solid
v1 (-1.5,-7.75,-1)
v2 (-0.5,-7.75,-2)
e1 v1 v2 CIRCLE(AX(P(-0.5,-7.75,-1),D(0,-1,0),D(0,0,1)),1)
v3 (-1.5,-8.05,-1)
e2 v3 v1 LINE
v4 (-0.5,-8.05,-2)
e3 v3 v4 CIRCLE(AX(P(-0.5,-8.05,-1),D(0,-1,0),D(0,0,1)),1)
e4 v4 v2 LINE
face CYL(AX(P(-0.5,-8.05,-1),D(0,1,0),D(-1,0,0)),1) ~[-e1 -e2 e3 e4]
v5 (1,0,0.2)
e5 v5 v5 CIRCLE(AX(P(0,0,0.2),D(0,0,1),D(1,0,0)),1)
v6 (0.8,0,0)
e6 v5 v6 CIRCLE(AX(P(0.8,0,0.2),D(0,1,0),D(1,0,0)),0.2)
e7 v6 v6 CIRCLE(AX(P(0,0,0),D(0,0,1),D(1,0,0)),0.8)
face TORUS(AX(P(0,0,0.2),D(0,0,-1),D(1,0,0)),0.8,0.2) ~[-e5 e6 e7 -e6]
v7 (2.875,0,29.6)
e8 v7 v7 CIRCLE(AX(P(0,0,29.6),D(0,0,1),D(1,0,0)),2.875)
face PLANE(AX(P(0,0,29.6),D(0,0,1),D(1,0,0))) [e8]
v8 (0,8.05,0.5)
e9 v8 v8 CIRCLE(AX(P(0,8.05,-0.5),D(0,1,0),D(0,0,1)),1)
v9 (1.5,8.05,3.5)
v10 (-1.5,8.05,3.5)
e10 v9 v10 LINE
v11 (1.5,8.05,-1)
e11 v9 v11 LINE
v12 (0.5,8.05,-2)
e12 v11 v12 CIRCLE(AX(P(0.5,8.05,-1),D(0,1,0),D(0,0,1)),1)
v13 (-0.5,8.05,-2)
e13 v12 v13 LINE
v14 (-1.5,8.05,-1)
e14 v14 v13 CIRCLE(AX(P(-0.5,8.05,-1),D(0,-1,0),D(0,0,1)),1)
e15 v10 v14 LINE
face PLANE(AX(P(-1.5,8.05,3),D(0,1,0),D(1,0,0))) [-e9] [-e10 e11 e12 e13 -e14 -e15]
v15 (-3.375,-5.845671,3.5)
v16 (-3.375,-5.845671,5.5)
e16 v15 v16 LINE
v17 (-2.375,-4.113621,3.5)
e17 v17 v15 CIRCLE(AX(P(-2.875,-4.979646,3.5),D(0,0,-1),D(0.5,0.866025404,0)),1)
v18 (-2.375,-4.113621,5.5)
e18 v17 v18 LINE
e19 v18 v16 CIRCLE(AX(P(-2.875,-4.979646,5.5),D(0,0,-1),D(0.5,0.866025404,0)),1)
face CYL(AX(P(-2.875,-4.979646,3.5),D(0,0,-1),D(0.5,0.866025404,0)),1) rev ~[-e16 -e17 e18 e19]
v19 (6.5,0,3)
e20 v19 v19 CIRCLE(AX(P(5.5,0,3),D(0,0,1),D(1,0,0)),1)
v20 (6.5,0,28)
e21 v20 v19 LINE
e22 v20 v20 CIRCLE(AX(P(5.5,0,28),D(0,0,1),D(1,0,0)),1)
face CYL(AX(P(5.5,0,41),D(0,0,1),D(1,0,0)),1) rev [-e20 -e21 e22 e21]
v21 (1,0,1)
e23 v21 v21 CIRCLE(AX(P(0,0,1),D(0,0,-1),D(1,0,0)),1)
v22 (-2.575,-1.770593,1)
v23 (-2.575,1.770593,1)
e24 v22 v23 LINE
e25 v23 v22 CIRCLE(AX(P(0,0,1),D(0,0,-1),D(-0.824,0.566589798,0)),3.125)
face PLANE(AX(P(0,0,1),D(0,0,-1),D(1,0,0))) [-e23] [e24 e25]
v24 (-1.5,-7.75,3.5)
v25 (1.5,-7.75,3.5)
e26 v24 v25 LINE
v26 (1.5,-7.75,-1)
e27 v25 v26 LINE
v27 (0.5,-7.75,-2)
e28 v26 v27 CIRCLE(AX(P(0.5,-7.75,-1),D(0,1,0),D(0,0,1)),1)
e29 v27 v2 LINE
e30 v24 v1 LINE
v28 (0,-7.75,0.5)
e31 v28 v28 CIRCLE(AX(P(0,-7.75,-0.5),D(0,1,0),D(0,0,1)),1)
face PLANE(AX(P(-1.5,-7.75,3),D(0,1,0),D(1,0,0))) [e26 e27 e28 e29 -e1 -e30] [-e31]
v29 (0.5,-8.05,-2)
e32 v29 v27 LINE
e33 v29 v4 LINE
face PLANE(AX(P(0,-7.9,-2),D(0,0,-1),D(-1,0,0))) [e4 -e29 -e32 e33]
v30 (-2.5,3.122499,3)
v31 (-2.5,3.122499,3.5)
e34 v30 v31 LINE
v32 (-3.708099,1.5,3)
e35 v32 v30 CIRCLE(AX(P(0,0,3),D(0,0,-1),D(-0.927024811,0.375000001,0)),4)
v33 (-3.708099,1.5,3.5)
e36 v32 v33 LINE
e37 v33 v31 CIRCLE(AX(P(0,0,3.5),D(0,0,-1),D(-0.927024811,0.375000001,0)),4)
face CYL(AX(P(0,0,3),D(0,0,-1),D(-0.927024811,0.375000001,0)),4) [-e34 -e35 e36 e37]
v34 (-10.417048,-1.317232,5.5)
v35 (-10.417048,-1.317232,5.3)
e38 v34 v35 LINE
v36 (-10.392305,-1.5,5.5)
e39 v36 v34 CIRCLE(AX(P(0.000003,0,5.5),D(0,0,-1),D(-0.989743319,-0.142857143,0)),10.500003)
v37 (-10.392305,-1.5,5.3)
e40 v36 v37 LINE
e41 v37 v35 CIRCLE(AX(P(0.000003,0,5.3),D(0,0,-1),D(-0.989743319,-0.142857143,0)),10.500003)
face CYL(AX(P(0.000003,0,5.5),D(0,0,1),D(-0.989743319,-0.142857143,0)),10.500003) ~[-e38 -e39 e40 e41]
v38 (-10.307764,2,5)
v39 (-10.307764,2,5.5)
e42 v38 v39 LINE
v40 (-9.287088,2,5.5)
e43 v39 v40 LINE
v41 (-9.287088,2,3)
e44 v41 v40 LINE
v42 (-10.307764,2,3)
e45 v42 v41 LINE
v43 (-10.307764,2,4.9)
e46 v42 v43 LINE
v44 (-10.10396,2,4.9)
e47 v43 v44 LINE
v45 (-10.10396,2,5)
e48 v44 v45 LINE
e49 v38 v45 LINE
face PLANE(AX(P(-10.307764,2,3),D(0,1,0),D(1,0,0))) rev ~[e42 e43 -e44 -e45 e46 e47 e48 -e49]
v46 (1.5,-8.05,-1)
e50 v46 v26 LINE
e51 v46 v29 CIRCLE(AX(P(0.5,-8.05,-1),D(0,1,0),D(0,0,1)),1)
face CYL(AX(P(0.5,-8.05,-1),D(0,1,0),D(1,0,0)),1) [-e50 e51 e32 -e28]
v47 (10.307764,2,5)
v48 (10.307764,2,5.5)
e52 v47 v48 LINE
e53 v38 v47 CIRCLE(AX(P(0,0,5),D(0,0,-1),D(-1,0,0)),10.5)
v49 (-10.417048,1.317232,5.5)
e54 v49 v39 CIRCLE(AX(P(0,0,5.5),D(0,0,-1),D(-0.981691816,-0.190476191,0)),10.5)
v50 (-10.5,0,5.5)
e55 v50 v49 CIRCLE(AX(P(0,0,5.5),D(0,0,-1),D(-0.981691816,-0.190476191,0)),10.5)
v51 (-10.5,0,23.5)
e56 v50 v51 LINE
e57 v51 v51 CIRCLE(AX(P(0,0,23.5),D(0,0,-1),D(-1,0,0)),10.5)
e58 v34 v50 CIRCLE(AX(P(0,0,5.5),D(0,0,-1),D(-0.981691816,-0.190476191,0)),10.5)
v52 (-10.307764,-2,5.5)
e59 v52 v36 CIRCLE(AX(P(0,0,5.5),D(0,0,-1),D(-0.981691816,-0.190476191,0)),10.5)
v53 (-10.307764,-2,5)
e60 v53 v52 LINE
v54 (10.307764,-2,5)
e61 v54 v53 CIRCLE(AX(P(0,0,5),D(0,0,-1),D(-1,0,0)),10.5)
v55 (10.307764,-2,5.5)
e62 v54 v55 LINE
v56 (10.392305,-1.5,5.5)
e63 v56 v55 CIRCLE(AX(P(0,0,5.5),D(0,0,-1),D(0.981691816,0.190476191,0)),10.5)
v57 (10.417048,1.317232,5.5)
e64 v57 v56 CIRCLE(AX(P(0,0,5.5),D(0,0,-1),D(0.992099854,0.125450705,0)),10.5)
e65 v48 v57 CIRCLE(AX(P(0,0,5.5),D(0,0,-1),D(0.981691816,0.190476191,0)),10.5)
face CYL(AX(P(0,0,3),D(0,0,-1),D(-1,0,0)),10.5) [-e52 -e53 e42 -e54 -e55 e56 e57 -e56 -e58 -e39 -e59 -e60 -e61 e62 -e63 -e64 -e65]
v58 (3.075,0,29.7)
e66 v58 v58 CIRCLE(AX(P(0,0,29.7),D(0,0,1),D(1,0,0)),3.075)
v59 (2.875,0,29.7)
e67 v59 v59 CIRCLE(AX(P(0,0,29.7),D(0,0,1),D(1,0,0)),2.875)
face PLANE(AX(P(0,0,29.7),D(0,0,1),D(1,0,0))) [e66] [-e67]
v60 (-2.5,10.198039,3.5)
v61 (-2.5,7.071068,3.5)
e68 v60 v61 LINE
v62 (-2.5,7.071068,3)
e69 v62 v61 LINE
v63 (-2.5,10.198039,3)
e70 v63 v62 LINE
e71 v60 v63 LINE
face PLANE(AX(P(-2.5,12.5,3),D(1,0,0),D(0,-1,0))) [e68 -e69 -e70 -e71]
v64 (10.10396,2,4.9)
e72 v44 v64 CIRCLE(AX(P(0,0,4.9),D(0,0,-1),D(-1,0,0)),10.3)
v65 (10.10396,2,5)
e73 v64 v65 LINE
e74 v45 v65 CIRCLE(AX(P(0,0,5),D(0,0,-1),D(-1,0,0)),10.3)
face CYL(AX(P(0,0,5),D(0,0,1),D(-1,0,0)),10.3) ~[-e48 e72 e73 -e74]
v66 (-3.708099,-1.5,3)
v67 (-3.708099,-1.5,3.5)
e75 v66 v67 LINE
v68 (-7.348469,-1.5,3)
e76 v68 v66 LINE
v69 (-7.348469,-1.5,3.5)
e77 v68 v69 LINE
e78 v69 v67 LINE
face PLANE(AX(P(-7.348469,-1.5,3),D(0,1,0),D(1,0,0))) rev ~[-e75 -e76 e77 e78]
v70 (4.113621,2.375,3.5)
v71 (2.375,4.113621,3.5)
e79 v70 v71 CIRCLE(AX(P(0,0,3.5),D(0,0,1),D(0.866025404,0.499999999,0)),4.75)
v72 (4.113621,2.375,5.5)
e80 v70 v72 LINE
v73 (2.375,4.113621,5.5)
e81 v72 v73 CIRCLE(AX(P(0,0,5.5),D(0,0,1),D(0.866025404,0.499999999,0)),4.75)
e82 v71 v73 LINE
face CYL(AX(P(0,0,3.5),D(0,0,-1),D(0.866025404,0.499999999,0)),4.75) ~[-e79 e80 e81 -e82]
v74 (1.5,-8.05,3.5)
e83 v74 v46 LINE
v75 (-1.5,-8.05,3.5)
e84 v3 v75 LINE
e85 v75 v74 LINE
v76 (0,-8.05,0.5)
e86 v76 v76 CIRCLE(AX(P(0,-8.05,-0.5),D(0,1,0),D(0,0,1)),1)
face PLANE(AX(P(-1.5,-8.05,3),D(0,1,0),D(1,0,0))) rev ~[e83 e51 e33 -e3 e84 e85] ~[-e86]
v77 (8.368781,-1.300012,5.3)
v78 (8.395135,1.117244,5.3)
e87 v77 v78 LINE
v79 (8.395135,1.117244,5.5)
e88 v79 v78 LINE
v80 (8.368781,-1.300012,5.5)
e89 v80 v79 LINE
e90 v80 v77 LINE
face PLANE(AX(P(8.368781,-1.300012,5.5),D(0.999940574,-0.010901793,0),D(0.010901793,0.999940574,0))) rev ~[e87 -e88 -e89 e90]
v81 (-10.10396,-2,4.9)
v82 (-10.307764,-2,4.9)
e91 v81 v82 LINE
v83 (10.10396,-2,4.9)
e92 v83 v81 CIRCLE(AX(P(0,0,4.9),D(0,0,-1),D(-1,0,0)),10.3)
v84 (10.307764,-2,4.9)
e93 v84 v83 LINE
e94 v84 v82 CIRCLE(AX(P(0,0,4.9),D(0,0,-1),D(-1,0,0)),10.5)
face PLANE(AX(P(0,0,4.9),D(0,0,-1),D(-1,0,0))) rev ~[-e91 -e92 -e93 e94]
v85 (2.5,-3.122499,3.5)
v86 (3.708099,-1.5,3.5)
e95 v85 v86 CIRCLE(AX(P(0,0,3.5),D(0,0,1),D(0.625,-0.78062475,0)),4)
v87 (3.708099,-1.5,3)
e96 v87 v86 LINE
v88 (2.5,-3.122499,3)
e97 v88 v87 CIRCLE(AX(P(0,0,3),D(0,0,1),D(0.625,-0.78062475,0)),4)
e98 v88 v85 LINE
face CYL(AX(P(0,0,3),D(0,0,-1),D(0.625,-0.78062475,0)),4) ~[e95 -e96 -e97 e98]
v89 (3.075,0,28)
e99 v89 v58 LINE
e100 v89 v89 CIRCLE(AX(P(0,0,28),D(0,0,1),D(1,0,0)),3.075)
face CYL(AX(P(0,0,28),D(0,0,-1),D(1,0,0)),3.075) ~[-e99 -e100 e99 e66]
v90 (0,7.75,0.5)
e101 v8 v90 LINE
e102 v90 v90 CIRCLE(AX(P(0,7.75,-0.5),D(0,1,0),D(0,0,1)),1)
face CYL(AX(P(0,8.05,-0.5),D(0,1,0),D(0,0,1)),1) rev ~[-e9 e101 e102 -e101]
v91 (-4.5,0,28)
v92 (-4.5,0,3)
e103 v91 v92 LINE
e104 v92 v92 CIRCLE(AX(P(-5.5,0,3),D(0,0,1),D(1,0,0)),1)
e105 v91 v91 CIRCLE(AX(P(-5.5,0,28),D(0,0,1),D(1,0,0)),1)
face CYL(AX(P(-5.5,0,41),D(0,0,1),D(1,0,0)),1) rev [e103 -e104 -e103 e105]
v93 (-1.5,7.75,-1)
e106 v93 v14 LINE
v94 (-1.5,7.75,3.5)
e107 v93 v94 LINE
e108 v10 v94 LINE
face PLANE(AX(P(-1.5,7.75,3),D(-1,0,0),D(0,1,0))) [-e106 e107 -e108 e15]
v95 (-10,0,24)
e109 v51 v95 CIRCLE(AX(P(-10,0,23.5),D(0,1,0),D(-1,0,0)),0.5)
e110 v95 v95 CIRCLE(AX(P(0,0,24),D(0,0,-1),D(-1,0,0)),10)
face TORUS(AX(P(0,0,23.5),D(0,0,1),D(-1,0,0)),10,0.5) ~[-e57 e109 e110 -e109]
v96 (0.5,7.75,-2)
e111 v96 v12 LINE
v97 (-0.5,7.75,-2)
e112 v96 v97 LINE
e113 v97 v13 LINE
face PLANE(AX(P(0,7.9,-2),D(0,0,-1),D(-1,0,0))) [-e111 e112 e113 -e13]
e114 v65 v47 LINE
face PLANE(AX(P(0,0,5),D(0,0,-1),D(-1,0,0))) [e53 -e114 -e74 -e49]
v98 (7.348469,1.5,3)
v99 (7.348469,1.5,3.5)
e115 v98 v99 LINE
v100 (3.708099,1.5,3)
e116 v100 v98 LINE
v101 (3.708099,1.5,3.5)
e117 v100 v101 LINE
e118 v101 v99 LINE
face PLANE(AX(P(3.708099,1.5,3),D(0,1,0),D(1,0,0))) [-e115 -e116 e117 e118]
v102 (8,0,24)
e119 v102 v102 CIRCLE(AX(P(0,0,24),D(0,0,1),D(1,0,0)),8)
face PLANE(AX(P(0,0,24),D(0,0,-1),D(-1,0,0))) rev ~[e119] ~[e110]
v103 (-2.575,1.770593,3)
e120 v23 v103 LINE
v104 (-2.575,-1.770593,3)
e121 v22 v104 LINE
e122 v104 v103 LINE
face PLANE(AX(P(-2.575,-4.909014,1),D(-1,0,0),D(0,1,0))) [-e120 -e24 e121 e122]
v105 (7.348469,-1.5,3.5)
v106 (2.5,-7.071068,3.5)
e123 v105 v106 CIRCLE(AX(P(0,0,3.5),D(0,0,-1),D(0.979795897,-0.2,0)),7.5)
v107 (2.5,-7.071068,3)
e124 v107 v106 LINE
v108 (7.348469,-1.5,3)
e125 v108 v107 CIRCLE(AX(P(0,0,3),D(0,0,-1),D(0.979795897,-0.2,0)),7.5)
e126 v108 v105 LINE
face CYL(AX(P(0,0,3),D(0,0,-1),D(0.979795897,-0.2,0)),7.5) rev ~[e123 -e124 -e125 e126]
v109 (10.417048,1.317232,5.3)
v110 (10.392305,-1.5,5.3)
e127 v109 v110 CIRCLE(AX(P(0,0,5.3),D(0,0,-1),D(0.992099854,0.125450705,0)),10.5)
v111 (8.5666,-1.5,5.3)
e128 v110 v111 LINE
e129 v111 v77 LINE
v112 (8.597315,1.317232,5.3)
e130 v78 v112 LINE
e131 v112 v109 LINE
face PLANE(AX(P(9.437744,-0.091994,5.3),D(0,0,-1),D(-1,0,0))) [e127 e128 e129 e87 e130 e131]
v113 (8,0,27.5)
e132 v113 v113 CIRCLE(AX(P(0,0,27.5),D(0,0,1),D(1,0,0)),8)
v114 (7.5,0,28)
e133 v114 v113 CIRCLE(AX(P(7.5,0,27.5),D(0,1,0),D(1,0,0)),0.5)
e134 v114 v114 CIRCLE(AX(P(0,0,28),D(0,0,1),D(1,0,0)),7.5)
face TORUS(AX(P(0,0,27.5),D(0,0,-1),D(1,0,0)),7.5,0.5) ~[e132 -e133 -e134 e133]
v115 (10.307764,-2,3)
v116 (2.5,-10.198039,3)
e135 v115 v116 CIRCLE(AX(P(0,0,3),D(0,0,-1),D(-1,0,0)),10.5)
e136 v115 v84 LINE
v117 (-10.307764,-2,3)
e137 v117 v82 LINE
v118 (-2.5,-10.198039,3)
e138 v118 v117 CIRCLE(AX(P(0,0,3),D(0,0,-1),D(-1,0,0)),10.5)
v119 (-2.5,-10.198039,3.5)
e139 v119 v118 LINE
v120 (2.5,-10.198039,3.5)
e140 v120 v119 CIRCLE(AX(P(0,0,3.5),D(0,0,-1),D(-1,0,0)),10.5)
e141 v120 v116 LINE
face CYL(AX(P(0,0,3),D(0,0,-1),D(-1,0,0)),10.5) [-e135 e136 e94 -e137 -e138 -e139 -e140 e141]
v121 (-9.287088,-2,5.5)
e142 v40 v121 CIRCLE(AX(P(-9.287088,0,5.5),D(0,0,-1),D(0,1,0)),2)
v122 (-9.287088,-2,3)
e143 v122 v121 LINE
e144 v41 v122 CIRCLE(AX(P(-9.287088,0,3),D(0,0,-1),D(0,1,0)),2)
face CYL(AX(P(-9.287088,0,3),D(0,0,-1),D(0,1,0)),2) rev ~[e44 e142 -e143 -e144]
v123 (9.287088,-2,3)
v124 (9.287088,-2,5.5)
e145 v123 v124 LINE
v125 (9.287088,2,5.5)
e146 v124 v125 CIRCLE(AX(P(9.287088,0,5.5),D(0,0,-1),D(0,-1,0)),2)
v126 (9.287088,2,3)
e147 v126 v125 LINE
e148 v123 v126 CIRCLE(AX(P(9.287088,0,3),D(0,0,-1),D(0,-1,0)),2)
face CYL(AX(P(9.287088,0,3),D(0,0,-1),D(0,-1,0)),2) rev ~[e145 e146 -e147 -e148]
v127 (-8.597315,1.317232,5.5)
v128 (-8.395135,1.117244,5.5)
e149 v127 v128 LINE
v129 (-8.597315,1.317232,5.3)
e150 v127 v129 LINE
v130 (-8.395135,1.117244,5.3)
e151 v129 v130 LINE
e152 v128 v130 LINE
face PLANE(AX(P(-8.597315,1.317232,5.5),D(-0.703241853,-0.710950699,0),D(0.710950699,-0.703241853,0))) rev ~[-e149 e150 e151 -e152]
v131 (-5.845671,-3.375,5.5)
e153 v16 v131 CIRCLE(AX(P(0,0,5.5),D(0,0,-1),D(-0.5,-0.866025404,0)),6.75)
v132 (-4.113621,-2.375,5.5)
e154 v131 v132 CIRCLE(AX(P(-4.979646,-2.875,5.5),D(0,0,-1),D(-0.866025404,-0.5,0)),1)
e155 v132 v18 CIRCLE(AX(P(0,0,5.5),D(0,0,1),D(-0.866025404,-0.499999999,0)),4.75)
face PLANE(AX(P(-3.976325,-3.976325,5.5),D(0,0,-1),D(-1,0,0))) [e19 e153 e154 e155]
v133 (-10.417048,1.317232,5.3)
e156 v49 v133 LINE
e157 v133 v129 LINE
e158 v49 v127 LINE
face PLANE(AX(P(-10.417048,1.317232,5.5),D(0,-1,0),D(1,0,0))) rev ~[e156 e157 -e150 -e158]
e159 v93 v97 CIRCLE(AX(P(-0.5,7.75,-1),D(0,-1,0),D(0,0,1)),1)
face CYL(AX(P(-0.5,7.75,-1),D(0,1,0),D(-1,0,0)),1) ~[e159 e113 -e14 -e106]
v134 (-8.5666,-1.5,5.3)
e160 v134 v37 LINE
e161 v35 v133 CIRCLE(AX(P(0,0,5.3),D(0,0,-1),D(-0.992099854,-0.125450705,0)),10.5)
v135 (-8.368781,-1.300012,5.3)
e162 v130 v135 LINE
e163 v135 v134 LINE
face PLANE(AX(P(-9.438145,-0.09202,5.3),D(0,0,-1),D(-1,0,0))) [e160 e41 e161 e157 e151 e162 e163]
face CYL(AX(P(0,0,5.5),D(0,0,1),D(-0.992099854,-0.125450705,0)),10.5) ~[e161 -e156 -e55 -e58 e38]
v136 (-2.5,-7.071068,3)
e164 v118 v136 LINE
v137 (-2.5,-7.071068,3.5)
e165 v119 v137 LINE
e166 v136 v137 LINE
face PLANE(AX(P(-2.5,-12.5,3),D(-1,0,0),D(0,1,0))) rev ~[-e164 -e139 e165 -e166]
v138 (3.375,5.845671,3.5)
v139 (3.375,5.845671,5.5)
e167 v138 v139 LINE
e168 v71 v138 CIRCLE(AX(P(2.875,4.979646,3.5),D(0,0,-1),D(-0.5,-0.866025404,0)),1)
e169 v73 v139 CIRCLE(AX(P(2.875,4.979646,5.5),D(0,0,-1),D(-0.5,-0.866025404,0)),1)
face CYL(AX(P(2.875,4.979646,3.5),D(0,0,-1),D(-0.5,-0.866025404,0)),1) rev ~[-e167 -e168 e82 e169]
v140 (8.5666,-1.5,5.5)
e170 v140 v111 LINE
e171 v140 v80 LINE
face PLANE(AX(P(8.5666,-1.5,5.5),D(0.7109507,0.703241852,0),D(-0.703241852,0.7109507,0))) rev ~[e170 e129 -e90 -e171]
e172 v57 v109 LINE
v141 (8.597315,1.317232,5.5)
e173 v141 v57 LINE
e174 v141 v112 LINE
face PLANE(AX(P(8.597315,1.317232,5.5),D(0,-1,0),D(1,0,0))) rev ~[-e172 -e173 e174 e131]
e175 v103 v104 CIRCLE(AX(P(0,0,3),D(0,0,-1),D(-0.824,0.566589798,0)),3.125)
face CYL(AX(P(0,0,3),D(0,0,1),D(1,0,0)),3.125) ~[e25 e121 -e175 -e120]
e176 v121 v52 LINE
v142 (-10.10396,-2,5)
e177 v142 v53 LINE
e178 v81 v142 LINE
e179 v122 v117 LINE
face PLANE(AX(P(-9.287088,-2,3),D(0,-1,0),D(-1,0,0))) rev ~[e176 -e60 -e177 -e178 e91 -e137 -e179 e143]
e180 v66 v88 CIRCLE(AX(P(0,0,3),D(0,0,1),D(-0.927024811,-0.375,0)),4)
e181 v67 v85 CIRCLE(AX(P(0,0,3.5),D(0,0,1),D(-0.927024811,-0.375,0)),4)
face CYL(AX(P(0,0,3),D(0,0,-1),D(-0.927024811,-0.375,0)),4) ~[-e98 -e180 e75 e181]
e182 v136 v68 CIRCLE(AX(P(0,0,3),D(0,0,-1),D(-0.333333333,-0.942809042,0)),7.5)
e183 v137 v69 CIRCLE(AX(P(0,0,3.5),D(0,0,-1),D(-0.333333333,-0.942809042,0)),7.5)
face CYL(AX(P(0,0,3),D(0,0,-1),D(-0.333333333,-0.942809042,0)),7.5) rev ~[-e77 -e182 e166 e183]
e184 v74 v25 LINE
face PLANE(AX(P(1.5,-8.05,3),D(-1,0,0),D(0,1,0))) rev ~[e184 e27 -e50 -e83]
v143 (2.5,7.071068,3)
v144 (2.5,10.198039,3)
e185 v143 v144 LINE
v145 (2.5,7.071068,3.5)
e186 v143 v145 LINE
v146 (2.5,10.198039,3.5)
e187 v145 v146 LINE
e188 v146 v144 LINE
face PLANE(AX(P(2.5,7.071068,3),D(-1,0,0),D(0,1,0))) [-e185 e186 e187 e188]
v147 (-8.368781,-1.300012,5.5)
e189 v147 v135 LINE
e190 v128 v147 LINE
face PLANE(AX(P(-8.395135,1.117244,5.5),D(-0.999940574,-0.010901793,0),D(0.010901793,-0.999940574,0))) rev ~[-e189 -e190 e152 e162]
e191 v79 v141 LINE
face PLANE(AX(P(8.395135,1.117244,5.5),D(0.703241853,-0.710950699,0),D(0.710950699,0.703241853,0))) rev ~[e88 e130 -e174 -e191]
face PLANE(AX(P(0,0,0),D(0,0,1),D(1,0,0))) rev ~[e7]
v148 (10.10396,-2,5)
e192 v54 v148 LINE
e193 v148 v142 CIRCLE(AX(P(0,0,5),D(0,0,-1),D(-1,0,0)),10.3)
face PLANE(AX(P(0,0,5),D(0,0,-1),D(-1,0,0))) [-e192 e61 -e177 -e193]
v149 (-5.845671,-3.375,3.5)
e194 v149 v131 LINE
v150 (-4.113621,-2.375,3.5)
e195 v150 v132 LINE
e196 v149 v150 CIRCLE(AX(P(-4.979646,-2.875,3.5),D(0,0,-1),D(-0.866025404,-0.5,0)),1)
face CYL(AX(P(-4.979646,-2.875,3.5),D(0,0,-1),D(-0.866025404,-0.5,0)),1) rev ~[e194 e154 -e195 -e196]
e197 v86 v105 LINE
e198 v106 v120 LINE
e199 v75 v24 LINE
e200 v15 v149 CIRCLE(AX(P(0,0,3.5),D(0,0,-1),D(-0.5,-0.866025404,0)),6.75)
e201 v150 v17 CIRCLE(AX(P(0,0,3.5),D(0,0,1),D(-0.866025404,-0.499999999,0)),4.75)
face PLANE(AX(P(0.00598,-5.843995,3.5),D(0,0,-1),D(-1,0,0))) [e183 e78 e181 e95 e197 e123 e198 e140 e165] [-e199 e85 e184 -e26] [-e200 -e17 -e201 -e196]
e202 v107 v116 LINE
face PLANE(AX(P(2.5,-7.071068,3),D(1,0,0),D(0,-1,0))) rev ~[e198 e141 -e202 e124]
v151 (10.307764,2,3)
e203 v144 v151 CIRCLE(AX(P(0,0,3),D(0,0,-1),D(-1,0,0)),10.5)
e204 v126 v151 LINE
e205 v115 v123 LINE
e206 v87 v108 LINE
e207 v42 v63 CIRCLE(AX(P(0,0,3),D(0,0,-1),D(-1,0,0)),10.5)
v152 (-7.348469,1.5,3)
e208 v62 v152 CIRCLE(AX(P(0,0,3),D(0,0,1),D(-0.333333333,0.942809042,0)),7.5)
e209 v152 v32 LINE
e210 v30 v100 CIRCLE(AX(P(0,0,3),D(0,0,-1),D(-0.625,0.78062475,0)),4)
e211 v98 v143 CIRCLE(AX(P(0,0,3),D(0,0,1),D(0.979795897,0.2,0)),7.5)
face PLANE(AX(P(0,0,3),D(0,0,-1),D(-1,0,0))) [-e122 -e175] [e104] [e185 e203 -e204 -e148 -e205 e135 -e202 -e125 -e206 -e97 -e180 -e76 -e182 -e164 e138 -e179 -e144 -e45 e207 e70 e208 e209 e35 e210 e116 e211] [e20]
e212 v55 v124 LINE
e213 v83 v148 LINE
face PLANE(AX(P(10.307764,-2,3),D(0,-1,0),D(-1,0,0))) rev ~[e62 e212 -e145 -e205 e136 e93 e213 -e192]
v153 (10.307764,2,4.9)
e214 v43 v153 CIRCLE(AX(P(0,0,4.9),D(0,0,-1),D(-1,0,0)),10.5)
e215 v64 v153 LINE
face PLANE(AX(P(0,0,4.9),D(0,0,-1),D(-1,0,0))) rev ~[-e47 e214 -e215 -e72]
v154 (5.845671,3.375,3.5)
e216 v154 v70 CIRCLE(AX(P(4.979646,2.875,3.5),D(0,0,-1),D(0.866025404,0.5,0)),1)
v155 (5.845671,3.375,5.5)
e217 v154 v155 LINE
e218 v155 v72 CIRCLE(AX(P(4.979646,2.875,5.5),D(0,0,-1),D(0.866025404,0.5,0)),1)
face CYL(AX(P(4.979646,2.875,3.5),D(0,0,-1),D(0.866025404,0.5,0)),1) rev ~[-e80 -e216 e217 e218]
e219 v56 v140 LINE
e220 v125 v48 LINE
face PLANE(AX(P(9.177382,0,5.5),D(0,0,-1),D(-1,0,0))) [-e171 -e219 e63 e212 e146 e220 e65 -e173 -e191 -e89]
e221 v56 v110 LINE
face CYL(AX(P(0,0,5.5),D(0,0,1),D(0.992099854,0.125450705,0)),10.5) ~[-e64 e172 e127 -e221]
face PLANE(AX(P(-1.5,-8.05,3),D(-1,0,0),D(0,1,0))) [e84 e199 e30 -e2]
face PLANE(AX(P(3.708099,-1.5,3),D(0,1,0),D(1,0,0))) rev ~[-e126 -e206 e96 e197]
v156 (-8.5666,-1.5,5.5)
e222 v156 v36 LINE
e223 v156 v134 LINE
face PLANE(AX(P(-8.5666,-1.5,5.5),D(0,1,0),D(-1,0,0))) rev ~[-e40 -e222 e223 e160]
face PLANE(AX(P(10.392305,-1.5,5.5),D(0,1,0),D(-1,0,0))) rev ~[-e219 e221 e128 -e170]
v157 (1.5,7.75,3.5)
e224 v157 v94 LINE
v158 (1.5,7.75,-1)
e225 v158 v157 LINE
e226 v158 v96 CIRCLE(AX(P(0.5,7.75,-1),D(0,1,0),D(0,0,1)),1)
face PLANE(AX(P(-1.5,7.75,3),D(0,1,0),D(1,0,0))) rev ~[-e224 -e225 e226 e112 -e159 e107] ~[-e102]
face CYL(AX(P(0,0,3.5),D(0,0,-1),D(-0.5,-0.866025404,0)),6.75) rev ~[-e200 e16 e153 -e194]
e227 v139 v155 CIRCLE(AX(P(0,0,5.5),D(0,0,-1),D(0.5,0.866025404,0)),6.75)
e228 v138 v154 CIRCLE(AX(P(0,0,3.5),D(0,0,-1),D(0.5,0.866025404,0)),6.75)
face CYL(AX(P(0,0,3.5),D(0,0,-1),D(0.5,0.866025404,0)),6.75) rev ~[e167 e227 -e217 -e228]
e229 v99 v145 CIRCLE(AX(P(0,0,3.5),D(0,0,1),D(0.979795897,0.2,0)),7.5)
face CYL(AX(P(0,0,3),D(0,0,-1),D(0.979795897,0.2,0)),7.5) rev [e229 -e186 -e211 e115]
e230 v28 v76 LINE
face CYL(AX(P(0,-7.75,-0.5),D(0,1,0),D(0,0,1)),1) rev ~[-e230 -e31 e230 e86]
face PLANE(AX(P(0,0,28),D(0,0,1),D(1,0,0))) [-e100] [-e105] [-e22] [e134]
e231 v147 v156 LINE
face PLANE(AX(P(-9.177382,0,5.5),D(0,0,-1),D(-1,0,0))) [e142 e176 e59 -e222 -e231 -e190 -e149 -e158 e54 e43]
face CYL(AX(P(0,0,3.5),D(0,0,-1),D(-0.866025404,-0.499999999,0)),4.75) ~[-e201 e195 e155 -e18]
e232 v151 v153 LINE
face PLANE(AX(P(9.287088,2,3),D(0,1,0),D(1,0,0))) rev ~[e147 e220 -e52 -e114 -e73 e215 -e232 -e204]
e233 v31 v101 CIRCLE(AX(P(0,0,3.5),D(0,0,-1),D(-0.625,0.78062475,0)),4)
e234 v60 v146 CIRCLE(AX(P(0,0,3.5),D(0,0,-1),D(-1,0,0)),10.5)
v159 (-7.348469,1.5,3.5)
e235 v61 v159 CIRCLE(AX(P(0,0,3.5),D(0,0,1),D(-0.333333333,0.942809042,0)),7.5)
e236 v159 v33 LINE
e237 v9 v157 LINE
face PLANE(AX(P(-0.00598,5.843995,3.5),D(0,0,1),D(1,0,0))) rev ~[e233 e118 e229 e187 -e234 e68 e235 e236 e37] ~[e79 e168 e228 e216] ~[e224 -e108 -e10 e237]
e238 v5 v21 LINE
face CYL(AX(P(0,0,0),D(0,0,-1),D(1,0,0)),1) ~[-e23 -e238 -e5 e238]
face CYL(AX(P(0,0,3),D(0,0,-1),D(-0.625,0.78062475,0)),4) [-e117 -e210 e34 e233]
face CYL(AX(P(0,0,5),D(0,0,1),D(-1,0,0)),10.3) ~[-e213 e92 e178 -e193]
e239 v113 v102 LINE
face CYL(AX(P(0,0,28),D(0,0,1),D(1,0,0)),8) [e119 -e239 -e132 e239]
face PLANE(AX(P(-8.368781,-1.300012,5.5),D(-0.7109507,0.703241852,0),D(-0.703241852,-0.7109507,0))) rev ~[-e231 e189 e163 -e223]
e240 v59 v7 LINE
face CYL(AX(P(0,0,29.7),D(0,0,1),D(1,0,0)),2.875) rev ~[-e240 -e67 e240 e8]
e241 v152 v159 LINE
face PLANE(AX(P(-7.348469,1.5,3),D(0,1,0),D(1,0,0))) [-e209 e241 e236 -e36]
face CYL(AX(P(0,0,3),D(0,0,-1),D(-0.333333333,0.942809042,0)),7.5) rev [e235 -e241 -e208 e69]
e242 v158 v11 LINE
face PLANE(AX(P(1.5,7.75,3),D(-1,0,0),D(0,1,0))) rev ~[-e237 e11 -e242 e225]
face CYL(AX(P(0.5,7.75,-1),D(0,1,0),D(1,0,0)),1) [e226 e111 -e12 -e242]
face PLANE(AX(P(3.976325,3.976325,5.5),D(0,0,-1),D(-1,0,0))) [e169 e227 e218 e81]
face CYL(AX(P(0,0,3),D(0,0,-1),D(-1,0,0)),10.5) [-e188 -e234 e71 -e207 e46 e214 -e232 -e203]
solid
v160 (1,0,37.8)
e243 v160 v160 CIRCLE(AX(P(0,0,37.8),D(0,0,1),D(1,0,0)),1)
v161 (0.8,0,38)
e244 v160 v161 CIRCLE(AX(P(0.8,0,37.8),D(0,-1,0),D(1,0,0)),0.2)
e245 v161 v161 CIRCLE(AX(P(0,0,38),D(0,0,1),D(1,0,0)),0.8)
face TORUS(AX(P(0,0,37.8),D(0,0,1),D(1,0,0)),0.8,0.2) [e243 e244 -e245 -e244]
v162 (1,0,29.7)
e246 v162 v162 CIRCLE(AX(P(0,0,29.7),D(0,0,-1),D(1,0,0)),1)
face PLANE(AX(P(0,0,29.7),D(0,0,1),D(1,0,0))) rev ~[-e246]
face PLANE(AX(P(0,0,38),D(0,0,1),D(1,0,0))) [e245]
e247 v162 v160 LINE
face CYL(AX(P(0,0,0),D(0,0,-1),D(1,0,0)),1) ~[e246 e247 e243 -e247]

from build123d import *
from build123d.topology import SkipClean

# Parameters (mm, degrees)
ESBO_O1_R                  = 1
RESSALTO_EXTRUS_O1_DEPTH   = 38
ESBO_O2_R                  = 8
RESSALTO_EXTRUS_O2_DEPTH   = 25
ESBO_O3_R                  = 3.075
RESSALTO_EXTRUS_O3_DEPTH   = 1.7
ESBO_O4_R                  = 10.5
RESSALTO_EXTRUS_O4_DEPTH   = 21
ESBO_O5_R                  = 3.125
RESSALTO_EXTRUS_O5_DEPTH   = 2
ESBO_O6_W                  = 3
ESBO_O6_H                  = 0.3
RESSALTO_EXTRUS_O6_DEPTH   = 5
ESBO_O7_R                  = 1
CORTE_EXTRUS_O1_DEPTH      = 4
ESBO_O8_R                  = 1
CORTE_EXTRUS_O2_DEPTH      = 4
FILETE1_R                  = 1
FILETE2_R                  = 0.2
CORTE_EXTRUS_O3_DEPTH      = 15
CORTE_EXTRUS_O3_DEPTH_BACK = 38
ESBO_O9_R                  = 1
ESBO_O10_W                 = 1.239132447
ESBO_O10_H                 = 9.327126009
CORTE_EXTRUS_O4_DEPTH      = 2
CORTE_EXTRUS_O5_DEPTH      = 0.5
CORTE_EXTRUS_O6_DEPTH      = 2
ESBO_O13_W                 = 3
ESBO_O13_H                 = 0.3
RESSALTO_EXTRUS_O7_DEPTH   = 6
ESBO_O14_R                 = 11.30933102
ESBO_O14_R_2               = 10.3
CORTE_EXTRUS_O7_DEPTH      = 0.1
FILETE3_R                  = 0.5
ESBO_O15_R                 = 2.875
CORTE_EXTRUS_O8_DEPTH      = 0.1
CORTE_EXTRUS_O9_DEPTH      = 2.5
RESSALTO_EXTRUS_O8_DEPTH   = 0.2


with BuildPart() as part:
    # Esboço1 → Ressalto-extrusão1 (new body)
    with BuildSketch(Plane.XY):
        Circle(ESBO_O1_R)
    extrude(amount=RESSALTO_EXTRUS_O1_DEPTH)

    # Esboço2 → Ressalto-extrusão2 (add)
    with BuildSketch(Plane.XY.offset(28)):
        Circle(ESBO_O2_R)
    extrude(amount=-RESSALTO_EXTRUS_O2_DEPTH)

    # Esboço3 → Ressalto-extrusão3 (add)
    with BuildSketch(Plane.XY.offset(28)):
        Circle(ESBO_O3_R)
    extrude(amount=RESSALTO_EXTRUS_O3_DEPTH)

    # Esboço4 → Ressalto-extrusão4 (add)
    with BuildSketch(Plane(origin=(0, 0, 3), x_dir=(-1, 0, 0), z_dir=(0, 0, -1))):
        Circle(ESBO_O4_R)
    extrude(amount=-RESSALTO_EXTRUS_O4_DEPTH)

    # Esboço5 → Ressalto-extrusão5 (add)
    with BuildSketch(Plane(origin=(0, 0, 3), x_dir=(-1, 0, 0), z_dir=(0, 0, -1))):
        with Locations(Location((0, 0, 0), (0, 0, 180))):
            Circle(ESBO_O5_R)
    extrude(amount=RESSALTO_EXTRUS_O5_DEPTH)

    # Esboço6 → Ressalto-extrusão6 (add)
    with BuildSketch(Plane(origin=(0, 0, 3), x_dir=(-1, 0, 0), z_dir=(0, 0, -1))):
        with Locations((0, 7.9)):
            Rectangle(ESBO_O6_W, ESBO_O6_H)
        with Locations((0, -7.9)):
            Rectangle(ESBO_O6_W, ESBO_O6_H)
    extrude(amount=RESSALTO_EXTRUS_O6_DEPTH)

    # Esboço7 → Corte-extrusão1 (cut)
    with BuildSketch(Plane(origin=(0, 8.05, 0), x_dir=(1, 0, 0), z_dir=(0, 1, 0))):
        with Locations(Location((0, 0.5, 0), (0, 0, 270))):
            Circle(ESBO_O7_R)
    extrude(amount=-CORTE_EXTRUS_O1_DEPTH, mode=Mode.SUBTRACT)

    # Esboço8 → Corte-extrusão2 (cut)
    with BuildSketch(Plane(origin=(0, -7.75, 0), x_dir=(1, 0, 0), z_dir=(0, 1, 0))):
        with Locations(Location((0, 0.5, 0), (0, 0, 270))):
            Circle(ESBO_O8_R)
    extrude(amount=-CORTE_EXTRUS_O2_DEPTH, mode=Mode.SUBTRACT)

    # Filete1
    filete1_edges = [part.edges().sort_by_distance(p)[0] for p in [
        (1.5, 7.9, -2),
        (-1.5, 7.9, -2),
        (1.5, -7.9, -2),
        (-1.5, -7.9, -2),
    ]]
    fillet(filete1_edges, radius=FILETE1_R)

    # Filete2
    filete2_edges = [part.edges().sort_by_distance(p)[0] for p in [
        (-1, 0, 0),
        (-1, 0, 38),
    ]]
    fillet(filete2_edges, radius=FILETE2_R)

    # Esboço9 → Corte-extrusão3 (cut, two sides: drawn at the far end of the back side and taken through both)
    with BuildSketch(Plane(origin=(0, 0, 3), x_dir=(-1, 0, 0), z_dir=(0, 0, -1)).offset(-CORTE_EXTRUS_O3_DEPTH_BACK)):
        with Locations(Location((-5.5, 0, 0), (0, 0, 180))):
            Circle(ESBO_O9_R)
        with Locations(Location((5.5, 0, 0), (0, 0, 180))):
            Circle(ESBO_O9_R)
    extrude(amount=CORTE_EXTRUS_O3_DEPTH + CORTE_EXTRUS_O3_DEPTH_BACK, mode=Mode.SUBTRACT)

    # Esboço10 → Corte-extrusão4 (cut)
    with BuildSketch(Plane(origin=(0, 0, 1), x_dir=(-1, 0, 0), z_dir=(0, 0, -1))):
        with Locations((3.194566224, -0.245450684)):
            Rectangle(ESBO_O10_W, ESBO_O10_H)
    extrude(amount=-CORTE_EXTRUS_O4_DEPTH, mode=Mode.SUBTRACT)

    # Esboço11 → Corte-extrusão5 (cut)
    with BuildSketch(Plane(origin=(0, 0, 3), x_dir=(-1, 0, 0), z_dir=(0, 0, -1))):
        with BuildLine():
            Line((-3.708099244, 1.5), (-7.348469228, 1.5))
            ThreePointArc((-7.348469228, 1.5), (-5.657498182, 4.923689097), (-2.5, 7.071067812))
            Line((-2.5, 7.071067812), (-2.5, 12.5))
            Line((-2.5, 12.5), (2.5, 12.5))
            Line((2.5, 12.5), (2.5, 7.071067812))
            ThreePointArc((2.5, 7.071067812), (5.657498182, 4.923689097), (7.348469228, 1.5))
            Line((7.348469228, 1.5), (3.708099244, 1.5))
            ThreePointArc((3.708099244, 1.5), (3.208309493, 2.388880532), (2.5, 3.122498999))
            ThreePointArc((2.5, 3.122498999), (-1.011435463, 3.870012701), (-3.708099244, 1.5))
        make_face()
        with BuildLine():
            Line((7.348469228, -1.5), (3.708099244, -1.5))
            ThreePointArc((3.708099244, -1.5), (1.011435463, -3.870012701), (-2.5, -3.122498999))
            ThreePointArc((-2.5, -3.122498999), (-3.208309493, -2.388880532), (-3.708099244, -1.5))
            Line((-3.708099244, -1.5), (-7.348469228, -1.5))
            ThreePointArc((-7.348469228, -1.5), (-5.657498182, -4.923689097), (-2.5, -7.071067812))
            Line((-2.5, -7.071067812), (-2.5, -12.5))
            Line((-2.5, -12.5), (2.5, -12.5))
            Line((2.5, -12.5), (2.5, -7.071067812))
            ThreePointArc((2.5, -7.071067812), (5.657498182, -4.923689097), (7.348469228, -1.5))
        make_face()
    extrude(amount=-CORTE_EXTRUS_O5_DEPTH, mode=Mode.SUBTRACT)


with BuildPart() as corte_extrus_o5_piece_1:
    # of the separate pieces the step leaves, piece 1, a body of its own (corte_extrus_o5_pieces)
    add(part.part.solids().sort_by_distance((1, 0, 0.2))[0])

    # Esboço12 → Corte-extrusão6 (cut)
    with BuildSketch(Plane(origin=(0, 0, 3.5), x_dir=(-1, 0, 0), z_dir=(0, 0, -1))):
        with BuildLine():
            ThreePointArc((3.375, -5.845671476), (4.772970773, -4.772970773), (5.845671476, -3.375))
            ThreePointArc((5.845671476, -3.375), (5.479646072, -2.008974596), (4.113620668, -2.375))
            ThreePointArc((4.113620668, -2.375), (3.358757211, -3.358757211), (2.375, -4.113620668))
            ThreePointArc((2.375, -4.113620668), (2.008974596, -5.479646072), (3.375, -5.845671476))
        make_face()
        with BuildLine():
            ThreePointArc((-3.375, 5.845671476), (-4.772970773, 4.772970773), (-5.845671476, 3.375))
            ThreePointArc((-5.845671476, 3.375), (-5.479646072, 2.008974596), (-4.113620668, 2.375))
            ThreePointArc((-4.113620668, 2.375), (-3.358757211, 3.358757211), (-2.375, 4.113620668))
            ThreePointArc((-2.375, 4.113620668), (-2.008974596, 5.479646072), (-3.375, 5.845671476))
        make_face()
    extrude(amount=-CORTE_EXTRUS_O6_DEPTH, mode=Mode.SUBTRACT)



with BuildPart() as corte_extrus_o5_piece_2:
    # of the separate pieces the step leaves, piece 2, a body of its own (corte_extrus_o5_pieces)
    add(part.part.solids().sort_by_distance((-1.5, 7.75, -1))[0])


with BuildPart() as corte_extrus_o5_piece_3:
    # of the separate pieces the step leaves, piece 3, a body of its own (corte_extrus_o5_pieces)
    add(part.part.solids().sort_by_distance((-1.5, -8.05, -1))[0])


with BuildPart() as corte_extrus_o5_piece_1_1:
    add(corte_extrus_o5_piece_1.part)

    add(corte_extrus_o5_piece_2.part)  # Ressalto-extrusão7 merges Corte-extrusão5 piece 2

    add(corte_extrus_o5_piece_3.part)  # Ressalto-extrusão7 merges Corte-extrusão5 piece 3
    # Esboço13 → Ressalto-extrusão7 (add)
    with BuildSketch(Plane.XY.offset(3)):
        with Locations((0, 7.9)):
            Rectangle(ESBO_O13_W, ESBO_O13_H)
        with Locations((0, -7.9)):
            Rectangle(ESBO_O13_W, ESBO_O13_H)
    extrude(amount=RESSALTO_EXTRUS_O7_DEPTH)

    # Esboço14 → Corte-extrusão7 (cut)
    with BuildSketch(Plane(origin=(0, 0, 5), x_dir=(-1, 0, 0), z_dir=(0, 0, -1))):
        Circle(ESBO_O14_R)
        Circle(ESBO_O14_R_2, mode=Mode.SUBTRACT)
    extrude(amount=CORTE_EXTRUS_O7_DEPTH, mode=Mode.SUBTRACT)

    # Filete3
    filete3_edges = [corte_extrus_o5_piece_1_1.edges().sort_by_distance(p)[0] for p in [
        (-8, 0, 28),
        (10.5, 0, 24),
    ]]
    fillet(filete3_edges, radius=FILETE3_R)

    # Esboço15 → Corte-extrusão8 (cut)
    with BuildSketch(Plane.XY.offset(29.7)):
        Circle(ESBO_O15_R)
    extrude(amount=-CORTE_EXTRUS_O8_DEPTH, mode=Mode.SUBTRACT)


with BuildPart() as corte_extrus_o8_piece_1:
    # of the separate pieces the step leaves, piece 1, a body of its own (corte_extrus_o8_pieces)
    add(corte_extrus_o5_piece_1_1.part.solids().sort_by_distance((7.5, 0, 28))[0])

    # Esboço16 → Corte-extrusão9 (cut)
    with BuildSketch(Plane(origin=(0, 0, 3), x_dir=(-1, 0, 0), z_dir=(0, 0, -1))):
        with BuildLine():
            Line((-9.287087811, 2), (-10.307764064, 2))
            ThreePointArc((-10.307764064, 2), (-10.5, 0), (-10.307764064, -2))
            Line((-10.307764064, -2), (-9.287087811, -2))
            ThreePointArc((-9.287087811, -2), (-7.287087811, 0), (-9.287087811, 2))
        make_face()
        with BuildLine():
            Line((10.307764064, 2), (9.287087811, 2))
            ThreePointArc((9.287087811, 2), (7.287087811, 0), (9.287087811, -2))
            Line((9.287087811, -2), (10.307764064, -2))
            ThreePointArc((10.307764064, -2), (10.5, 0), (10.307764064, 2))
        make_face()
    extrude(amount=-CORTE_EXTRUS_O9_DEPTH, mode=Mode.SUBTRACT)

    # Esboço17 → Ressalto-extrusão8 (add)
    with SkipClean():  # the faces are left unmerged after this step: merging them gives an invalid solid
        with BuildSketch(Plane(origin=(0, 0, 5.5), x_dir=(-1, 0, 0), z_dir=(0, 0, -1))):
            with BuildLine():
                ThreePointArc((10.417048469, -1.317232401), (10.5, 0), (10.417048469, 1.317232401))
                Line((10.417048469, 1.317232401), (8.597314976, 1.317232401))
                Line((8.597314976, 1.317232401), (8.395134617, 1.117244286))
                Line((8.395134617, 1.117244286), (8.368780624, -1.300011885))
                Line((8.368780624, -1.300011885), (8.566600265, -1.5))
                Line((8.566600265, -1.5), (10.392304845, -1.5))
                ThreePointArc((10.392304845, -1.5), (10.405077959, -1.40867053), (10.417048469, -1.317232401))
            make_face()
            with BuildLine():
                Line((-8.395134617, 1.117244286), (-8.597314976, 1.317232401))
                Line((-8.597314976, 1.317232401), (-10.417048469, 1.317232401))
                ThreePointArc((-10.417048469, 1.317232401), (-10.499595037, -0.092217463), (-10.392304845, -1.5))
                Line((-10.392304845, -1.5), (-8.566600265, -1.5))
                Line((-8.566600265, -1.5), (-8.368780624, -1.300011885))
                Line((-8.368780624, -1.300011885), (-8.395134617, 1.117244286))
            make_face()
        extrude(amount=RESSALTO_EXTRUS_O8_DEPTH)


with BuildPart() as corte_extrus_o8_piece_2:
    # of the separate pieces the step leaves, piece 2, a body of its own (corte_extrus_o8_pieces)
    add(corte_extrus_o5_piece_1_1.part.solids().sort_by_distance((1, 0, 37.8))[0])


solid = Compound([corte_extrus_o8_piece_1.part, corte_extrus_o8_piece_2.part])
